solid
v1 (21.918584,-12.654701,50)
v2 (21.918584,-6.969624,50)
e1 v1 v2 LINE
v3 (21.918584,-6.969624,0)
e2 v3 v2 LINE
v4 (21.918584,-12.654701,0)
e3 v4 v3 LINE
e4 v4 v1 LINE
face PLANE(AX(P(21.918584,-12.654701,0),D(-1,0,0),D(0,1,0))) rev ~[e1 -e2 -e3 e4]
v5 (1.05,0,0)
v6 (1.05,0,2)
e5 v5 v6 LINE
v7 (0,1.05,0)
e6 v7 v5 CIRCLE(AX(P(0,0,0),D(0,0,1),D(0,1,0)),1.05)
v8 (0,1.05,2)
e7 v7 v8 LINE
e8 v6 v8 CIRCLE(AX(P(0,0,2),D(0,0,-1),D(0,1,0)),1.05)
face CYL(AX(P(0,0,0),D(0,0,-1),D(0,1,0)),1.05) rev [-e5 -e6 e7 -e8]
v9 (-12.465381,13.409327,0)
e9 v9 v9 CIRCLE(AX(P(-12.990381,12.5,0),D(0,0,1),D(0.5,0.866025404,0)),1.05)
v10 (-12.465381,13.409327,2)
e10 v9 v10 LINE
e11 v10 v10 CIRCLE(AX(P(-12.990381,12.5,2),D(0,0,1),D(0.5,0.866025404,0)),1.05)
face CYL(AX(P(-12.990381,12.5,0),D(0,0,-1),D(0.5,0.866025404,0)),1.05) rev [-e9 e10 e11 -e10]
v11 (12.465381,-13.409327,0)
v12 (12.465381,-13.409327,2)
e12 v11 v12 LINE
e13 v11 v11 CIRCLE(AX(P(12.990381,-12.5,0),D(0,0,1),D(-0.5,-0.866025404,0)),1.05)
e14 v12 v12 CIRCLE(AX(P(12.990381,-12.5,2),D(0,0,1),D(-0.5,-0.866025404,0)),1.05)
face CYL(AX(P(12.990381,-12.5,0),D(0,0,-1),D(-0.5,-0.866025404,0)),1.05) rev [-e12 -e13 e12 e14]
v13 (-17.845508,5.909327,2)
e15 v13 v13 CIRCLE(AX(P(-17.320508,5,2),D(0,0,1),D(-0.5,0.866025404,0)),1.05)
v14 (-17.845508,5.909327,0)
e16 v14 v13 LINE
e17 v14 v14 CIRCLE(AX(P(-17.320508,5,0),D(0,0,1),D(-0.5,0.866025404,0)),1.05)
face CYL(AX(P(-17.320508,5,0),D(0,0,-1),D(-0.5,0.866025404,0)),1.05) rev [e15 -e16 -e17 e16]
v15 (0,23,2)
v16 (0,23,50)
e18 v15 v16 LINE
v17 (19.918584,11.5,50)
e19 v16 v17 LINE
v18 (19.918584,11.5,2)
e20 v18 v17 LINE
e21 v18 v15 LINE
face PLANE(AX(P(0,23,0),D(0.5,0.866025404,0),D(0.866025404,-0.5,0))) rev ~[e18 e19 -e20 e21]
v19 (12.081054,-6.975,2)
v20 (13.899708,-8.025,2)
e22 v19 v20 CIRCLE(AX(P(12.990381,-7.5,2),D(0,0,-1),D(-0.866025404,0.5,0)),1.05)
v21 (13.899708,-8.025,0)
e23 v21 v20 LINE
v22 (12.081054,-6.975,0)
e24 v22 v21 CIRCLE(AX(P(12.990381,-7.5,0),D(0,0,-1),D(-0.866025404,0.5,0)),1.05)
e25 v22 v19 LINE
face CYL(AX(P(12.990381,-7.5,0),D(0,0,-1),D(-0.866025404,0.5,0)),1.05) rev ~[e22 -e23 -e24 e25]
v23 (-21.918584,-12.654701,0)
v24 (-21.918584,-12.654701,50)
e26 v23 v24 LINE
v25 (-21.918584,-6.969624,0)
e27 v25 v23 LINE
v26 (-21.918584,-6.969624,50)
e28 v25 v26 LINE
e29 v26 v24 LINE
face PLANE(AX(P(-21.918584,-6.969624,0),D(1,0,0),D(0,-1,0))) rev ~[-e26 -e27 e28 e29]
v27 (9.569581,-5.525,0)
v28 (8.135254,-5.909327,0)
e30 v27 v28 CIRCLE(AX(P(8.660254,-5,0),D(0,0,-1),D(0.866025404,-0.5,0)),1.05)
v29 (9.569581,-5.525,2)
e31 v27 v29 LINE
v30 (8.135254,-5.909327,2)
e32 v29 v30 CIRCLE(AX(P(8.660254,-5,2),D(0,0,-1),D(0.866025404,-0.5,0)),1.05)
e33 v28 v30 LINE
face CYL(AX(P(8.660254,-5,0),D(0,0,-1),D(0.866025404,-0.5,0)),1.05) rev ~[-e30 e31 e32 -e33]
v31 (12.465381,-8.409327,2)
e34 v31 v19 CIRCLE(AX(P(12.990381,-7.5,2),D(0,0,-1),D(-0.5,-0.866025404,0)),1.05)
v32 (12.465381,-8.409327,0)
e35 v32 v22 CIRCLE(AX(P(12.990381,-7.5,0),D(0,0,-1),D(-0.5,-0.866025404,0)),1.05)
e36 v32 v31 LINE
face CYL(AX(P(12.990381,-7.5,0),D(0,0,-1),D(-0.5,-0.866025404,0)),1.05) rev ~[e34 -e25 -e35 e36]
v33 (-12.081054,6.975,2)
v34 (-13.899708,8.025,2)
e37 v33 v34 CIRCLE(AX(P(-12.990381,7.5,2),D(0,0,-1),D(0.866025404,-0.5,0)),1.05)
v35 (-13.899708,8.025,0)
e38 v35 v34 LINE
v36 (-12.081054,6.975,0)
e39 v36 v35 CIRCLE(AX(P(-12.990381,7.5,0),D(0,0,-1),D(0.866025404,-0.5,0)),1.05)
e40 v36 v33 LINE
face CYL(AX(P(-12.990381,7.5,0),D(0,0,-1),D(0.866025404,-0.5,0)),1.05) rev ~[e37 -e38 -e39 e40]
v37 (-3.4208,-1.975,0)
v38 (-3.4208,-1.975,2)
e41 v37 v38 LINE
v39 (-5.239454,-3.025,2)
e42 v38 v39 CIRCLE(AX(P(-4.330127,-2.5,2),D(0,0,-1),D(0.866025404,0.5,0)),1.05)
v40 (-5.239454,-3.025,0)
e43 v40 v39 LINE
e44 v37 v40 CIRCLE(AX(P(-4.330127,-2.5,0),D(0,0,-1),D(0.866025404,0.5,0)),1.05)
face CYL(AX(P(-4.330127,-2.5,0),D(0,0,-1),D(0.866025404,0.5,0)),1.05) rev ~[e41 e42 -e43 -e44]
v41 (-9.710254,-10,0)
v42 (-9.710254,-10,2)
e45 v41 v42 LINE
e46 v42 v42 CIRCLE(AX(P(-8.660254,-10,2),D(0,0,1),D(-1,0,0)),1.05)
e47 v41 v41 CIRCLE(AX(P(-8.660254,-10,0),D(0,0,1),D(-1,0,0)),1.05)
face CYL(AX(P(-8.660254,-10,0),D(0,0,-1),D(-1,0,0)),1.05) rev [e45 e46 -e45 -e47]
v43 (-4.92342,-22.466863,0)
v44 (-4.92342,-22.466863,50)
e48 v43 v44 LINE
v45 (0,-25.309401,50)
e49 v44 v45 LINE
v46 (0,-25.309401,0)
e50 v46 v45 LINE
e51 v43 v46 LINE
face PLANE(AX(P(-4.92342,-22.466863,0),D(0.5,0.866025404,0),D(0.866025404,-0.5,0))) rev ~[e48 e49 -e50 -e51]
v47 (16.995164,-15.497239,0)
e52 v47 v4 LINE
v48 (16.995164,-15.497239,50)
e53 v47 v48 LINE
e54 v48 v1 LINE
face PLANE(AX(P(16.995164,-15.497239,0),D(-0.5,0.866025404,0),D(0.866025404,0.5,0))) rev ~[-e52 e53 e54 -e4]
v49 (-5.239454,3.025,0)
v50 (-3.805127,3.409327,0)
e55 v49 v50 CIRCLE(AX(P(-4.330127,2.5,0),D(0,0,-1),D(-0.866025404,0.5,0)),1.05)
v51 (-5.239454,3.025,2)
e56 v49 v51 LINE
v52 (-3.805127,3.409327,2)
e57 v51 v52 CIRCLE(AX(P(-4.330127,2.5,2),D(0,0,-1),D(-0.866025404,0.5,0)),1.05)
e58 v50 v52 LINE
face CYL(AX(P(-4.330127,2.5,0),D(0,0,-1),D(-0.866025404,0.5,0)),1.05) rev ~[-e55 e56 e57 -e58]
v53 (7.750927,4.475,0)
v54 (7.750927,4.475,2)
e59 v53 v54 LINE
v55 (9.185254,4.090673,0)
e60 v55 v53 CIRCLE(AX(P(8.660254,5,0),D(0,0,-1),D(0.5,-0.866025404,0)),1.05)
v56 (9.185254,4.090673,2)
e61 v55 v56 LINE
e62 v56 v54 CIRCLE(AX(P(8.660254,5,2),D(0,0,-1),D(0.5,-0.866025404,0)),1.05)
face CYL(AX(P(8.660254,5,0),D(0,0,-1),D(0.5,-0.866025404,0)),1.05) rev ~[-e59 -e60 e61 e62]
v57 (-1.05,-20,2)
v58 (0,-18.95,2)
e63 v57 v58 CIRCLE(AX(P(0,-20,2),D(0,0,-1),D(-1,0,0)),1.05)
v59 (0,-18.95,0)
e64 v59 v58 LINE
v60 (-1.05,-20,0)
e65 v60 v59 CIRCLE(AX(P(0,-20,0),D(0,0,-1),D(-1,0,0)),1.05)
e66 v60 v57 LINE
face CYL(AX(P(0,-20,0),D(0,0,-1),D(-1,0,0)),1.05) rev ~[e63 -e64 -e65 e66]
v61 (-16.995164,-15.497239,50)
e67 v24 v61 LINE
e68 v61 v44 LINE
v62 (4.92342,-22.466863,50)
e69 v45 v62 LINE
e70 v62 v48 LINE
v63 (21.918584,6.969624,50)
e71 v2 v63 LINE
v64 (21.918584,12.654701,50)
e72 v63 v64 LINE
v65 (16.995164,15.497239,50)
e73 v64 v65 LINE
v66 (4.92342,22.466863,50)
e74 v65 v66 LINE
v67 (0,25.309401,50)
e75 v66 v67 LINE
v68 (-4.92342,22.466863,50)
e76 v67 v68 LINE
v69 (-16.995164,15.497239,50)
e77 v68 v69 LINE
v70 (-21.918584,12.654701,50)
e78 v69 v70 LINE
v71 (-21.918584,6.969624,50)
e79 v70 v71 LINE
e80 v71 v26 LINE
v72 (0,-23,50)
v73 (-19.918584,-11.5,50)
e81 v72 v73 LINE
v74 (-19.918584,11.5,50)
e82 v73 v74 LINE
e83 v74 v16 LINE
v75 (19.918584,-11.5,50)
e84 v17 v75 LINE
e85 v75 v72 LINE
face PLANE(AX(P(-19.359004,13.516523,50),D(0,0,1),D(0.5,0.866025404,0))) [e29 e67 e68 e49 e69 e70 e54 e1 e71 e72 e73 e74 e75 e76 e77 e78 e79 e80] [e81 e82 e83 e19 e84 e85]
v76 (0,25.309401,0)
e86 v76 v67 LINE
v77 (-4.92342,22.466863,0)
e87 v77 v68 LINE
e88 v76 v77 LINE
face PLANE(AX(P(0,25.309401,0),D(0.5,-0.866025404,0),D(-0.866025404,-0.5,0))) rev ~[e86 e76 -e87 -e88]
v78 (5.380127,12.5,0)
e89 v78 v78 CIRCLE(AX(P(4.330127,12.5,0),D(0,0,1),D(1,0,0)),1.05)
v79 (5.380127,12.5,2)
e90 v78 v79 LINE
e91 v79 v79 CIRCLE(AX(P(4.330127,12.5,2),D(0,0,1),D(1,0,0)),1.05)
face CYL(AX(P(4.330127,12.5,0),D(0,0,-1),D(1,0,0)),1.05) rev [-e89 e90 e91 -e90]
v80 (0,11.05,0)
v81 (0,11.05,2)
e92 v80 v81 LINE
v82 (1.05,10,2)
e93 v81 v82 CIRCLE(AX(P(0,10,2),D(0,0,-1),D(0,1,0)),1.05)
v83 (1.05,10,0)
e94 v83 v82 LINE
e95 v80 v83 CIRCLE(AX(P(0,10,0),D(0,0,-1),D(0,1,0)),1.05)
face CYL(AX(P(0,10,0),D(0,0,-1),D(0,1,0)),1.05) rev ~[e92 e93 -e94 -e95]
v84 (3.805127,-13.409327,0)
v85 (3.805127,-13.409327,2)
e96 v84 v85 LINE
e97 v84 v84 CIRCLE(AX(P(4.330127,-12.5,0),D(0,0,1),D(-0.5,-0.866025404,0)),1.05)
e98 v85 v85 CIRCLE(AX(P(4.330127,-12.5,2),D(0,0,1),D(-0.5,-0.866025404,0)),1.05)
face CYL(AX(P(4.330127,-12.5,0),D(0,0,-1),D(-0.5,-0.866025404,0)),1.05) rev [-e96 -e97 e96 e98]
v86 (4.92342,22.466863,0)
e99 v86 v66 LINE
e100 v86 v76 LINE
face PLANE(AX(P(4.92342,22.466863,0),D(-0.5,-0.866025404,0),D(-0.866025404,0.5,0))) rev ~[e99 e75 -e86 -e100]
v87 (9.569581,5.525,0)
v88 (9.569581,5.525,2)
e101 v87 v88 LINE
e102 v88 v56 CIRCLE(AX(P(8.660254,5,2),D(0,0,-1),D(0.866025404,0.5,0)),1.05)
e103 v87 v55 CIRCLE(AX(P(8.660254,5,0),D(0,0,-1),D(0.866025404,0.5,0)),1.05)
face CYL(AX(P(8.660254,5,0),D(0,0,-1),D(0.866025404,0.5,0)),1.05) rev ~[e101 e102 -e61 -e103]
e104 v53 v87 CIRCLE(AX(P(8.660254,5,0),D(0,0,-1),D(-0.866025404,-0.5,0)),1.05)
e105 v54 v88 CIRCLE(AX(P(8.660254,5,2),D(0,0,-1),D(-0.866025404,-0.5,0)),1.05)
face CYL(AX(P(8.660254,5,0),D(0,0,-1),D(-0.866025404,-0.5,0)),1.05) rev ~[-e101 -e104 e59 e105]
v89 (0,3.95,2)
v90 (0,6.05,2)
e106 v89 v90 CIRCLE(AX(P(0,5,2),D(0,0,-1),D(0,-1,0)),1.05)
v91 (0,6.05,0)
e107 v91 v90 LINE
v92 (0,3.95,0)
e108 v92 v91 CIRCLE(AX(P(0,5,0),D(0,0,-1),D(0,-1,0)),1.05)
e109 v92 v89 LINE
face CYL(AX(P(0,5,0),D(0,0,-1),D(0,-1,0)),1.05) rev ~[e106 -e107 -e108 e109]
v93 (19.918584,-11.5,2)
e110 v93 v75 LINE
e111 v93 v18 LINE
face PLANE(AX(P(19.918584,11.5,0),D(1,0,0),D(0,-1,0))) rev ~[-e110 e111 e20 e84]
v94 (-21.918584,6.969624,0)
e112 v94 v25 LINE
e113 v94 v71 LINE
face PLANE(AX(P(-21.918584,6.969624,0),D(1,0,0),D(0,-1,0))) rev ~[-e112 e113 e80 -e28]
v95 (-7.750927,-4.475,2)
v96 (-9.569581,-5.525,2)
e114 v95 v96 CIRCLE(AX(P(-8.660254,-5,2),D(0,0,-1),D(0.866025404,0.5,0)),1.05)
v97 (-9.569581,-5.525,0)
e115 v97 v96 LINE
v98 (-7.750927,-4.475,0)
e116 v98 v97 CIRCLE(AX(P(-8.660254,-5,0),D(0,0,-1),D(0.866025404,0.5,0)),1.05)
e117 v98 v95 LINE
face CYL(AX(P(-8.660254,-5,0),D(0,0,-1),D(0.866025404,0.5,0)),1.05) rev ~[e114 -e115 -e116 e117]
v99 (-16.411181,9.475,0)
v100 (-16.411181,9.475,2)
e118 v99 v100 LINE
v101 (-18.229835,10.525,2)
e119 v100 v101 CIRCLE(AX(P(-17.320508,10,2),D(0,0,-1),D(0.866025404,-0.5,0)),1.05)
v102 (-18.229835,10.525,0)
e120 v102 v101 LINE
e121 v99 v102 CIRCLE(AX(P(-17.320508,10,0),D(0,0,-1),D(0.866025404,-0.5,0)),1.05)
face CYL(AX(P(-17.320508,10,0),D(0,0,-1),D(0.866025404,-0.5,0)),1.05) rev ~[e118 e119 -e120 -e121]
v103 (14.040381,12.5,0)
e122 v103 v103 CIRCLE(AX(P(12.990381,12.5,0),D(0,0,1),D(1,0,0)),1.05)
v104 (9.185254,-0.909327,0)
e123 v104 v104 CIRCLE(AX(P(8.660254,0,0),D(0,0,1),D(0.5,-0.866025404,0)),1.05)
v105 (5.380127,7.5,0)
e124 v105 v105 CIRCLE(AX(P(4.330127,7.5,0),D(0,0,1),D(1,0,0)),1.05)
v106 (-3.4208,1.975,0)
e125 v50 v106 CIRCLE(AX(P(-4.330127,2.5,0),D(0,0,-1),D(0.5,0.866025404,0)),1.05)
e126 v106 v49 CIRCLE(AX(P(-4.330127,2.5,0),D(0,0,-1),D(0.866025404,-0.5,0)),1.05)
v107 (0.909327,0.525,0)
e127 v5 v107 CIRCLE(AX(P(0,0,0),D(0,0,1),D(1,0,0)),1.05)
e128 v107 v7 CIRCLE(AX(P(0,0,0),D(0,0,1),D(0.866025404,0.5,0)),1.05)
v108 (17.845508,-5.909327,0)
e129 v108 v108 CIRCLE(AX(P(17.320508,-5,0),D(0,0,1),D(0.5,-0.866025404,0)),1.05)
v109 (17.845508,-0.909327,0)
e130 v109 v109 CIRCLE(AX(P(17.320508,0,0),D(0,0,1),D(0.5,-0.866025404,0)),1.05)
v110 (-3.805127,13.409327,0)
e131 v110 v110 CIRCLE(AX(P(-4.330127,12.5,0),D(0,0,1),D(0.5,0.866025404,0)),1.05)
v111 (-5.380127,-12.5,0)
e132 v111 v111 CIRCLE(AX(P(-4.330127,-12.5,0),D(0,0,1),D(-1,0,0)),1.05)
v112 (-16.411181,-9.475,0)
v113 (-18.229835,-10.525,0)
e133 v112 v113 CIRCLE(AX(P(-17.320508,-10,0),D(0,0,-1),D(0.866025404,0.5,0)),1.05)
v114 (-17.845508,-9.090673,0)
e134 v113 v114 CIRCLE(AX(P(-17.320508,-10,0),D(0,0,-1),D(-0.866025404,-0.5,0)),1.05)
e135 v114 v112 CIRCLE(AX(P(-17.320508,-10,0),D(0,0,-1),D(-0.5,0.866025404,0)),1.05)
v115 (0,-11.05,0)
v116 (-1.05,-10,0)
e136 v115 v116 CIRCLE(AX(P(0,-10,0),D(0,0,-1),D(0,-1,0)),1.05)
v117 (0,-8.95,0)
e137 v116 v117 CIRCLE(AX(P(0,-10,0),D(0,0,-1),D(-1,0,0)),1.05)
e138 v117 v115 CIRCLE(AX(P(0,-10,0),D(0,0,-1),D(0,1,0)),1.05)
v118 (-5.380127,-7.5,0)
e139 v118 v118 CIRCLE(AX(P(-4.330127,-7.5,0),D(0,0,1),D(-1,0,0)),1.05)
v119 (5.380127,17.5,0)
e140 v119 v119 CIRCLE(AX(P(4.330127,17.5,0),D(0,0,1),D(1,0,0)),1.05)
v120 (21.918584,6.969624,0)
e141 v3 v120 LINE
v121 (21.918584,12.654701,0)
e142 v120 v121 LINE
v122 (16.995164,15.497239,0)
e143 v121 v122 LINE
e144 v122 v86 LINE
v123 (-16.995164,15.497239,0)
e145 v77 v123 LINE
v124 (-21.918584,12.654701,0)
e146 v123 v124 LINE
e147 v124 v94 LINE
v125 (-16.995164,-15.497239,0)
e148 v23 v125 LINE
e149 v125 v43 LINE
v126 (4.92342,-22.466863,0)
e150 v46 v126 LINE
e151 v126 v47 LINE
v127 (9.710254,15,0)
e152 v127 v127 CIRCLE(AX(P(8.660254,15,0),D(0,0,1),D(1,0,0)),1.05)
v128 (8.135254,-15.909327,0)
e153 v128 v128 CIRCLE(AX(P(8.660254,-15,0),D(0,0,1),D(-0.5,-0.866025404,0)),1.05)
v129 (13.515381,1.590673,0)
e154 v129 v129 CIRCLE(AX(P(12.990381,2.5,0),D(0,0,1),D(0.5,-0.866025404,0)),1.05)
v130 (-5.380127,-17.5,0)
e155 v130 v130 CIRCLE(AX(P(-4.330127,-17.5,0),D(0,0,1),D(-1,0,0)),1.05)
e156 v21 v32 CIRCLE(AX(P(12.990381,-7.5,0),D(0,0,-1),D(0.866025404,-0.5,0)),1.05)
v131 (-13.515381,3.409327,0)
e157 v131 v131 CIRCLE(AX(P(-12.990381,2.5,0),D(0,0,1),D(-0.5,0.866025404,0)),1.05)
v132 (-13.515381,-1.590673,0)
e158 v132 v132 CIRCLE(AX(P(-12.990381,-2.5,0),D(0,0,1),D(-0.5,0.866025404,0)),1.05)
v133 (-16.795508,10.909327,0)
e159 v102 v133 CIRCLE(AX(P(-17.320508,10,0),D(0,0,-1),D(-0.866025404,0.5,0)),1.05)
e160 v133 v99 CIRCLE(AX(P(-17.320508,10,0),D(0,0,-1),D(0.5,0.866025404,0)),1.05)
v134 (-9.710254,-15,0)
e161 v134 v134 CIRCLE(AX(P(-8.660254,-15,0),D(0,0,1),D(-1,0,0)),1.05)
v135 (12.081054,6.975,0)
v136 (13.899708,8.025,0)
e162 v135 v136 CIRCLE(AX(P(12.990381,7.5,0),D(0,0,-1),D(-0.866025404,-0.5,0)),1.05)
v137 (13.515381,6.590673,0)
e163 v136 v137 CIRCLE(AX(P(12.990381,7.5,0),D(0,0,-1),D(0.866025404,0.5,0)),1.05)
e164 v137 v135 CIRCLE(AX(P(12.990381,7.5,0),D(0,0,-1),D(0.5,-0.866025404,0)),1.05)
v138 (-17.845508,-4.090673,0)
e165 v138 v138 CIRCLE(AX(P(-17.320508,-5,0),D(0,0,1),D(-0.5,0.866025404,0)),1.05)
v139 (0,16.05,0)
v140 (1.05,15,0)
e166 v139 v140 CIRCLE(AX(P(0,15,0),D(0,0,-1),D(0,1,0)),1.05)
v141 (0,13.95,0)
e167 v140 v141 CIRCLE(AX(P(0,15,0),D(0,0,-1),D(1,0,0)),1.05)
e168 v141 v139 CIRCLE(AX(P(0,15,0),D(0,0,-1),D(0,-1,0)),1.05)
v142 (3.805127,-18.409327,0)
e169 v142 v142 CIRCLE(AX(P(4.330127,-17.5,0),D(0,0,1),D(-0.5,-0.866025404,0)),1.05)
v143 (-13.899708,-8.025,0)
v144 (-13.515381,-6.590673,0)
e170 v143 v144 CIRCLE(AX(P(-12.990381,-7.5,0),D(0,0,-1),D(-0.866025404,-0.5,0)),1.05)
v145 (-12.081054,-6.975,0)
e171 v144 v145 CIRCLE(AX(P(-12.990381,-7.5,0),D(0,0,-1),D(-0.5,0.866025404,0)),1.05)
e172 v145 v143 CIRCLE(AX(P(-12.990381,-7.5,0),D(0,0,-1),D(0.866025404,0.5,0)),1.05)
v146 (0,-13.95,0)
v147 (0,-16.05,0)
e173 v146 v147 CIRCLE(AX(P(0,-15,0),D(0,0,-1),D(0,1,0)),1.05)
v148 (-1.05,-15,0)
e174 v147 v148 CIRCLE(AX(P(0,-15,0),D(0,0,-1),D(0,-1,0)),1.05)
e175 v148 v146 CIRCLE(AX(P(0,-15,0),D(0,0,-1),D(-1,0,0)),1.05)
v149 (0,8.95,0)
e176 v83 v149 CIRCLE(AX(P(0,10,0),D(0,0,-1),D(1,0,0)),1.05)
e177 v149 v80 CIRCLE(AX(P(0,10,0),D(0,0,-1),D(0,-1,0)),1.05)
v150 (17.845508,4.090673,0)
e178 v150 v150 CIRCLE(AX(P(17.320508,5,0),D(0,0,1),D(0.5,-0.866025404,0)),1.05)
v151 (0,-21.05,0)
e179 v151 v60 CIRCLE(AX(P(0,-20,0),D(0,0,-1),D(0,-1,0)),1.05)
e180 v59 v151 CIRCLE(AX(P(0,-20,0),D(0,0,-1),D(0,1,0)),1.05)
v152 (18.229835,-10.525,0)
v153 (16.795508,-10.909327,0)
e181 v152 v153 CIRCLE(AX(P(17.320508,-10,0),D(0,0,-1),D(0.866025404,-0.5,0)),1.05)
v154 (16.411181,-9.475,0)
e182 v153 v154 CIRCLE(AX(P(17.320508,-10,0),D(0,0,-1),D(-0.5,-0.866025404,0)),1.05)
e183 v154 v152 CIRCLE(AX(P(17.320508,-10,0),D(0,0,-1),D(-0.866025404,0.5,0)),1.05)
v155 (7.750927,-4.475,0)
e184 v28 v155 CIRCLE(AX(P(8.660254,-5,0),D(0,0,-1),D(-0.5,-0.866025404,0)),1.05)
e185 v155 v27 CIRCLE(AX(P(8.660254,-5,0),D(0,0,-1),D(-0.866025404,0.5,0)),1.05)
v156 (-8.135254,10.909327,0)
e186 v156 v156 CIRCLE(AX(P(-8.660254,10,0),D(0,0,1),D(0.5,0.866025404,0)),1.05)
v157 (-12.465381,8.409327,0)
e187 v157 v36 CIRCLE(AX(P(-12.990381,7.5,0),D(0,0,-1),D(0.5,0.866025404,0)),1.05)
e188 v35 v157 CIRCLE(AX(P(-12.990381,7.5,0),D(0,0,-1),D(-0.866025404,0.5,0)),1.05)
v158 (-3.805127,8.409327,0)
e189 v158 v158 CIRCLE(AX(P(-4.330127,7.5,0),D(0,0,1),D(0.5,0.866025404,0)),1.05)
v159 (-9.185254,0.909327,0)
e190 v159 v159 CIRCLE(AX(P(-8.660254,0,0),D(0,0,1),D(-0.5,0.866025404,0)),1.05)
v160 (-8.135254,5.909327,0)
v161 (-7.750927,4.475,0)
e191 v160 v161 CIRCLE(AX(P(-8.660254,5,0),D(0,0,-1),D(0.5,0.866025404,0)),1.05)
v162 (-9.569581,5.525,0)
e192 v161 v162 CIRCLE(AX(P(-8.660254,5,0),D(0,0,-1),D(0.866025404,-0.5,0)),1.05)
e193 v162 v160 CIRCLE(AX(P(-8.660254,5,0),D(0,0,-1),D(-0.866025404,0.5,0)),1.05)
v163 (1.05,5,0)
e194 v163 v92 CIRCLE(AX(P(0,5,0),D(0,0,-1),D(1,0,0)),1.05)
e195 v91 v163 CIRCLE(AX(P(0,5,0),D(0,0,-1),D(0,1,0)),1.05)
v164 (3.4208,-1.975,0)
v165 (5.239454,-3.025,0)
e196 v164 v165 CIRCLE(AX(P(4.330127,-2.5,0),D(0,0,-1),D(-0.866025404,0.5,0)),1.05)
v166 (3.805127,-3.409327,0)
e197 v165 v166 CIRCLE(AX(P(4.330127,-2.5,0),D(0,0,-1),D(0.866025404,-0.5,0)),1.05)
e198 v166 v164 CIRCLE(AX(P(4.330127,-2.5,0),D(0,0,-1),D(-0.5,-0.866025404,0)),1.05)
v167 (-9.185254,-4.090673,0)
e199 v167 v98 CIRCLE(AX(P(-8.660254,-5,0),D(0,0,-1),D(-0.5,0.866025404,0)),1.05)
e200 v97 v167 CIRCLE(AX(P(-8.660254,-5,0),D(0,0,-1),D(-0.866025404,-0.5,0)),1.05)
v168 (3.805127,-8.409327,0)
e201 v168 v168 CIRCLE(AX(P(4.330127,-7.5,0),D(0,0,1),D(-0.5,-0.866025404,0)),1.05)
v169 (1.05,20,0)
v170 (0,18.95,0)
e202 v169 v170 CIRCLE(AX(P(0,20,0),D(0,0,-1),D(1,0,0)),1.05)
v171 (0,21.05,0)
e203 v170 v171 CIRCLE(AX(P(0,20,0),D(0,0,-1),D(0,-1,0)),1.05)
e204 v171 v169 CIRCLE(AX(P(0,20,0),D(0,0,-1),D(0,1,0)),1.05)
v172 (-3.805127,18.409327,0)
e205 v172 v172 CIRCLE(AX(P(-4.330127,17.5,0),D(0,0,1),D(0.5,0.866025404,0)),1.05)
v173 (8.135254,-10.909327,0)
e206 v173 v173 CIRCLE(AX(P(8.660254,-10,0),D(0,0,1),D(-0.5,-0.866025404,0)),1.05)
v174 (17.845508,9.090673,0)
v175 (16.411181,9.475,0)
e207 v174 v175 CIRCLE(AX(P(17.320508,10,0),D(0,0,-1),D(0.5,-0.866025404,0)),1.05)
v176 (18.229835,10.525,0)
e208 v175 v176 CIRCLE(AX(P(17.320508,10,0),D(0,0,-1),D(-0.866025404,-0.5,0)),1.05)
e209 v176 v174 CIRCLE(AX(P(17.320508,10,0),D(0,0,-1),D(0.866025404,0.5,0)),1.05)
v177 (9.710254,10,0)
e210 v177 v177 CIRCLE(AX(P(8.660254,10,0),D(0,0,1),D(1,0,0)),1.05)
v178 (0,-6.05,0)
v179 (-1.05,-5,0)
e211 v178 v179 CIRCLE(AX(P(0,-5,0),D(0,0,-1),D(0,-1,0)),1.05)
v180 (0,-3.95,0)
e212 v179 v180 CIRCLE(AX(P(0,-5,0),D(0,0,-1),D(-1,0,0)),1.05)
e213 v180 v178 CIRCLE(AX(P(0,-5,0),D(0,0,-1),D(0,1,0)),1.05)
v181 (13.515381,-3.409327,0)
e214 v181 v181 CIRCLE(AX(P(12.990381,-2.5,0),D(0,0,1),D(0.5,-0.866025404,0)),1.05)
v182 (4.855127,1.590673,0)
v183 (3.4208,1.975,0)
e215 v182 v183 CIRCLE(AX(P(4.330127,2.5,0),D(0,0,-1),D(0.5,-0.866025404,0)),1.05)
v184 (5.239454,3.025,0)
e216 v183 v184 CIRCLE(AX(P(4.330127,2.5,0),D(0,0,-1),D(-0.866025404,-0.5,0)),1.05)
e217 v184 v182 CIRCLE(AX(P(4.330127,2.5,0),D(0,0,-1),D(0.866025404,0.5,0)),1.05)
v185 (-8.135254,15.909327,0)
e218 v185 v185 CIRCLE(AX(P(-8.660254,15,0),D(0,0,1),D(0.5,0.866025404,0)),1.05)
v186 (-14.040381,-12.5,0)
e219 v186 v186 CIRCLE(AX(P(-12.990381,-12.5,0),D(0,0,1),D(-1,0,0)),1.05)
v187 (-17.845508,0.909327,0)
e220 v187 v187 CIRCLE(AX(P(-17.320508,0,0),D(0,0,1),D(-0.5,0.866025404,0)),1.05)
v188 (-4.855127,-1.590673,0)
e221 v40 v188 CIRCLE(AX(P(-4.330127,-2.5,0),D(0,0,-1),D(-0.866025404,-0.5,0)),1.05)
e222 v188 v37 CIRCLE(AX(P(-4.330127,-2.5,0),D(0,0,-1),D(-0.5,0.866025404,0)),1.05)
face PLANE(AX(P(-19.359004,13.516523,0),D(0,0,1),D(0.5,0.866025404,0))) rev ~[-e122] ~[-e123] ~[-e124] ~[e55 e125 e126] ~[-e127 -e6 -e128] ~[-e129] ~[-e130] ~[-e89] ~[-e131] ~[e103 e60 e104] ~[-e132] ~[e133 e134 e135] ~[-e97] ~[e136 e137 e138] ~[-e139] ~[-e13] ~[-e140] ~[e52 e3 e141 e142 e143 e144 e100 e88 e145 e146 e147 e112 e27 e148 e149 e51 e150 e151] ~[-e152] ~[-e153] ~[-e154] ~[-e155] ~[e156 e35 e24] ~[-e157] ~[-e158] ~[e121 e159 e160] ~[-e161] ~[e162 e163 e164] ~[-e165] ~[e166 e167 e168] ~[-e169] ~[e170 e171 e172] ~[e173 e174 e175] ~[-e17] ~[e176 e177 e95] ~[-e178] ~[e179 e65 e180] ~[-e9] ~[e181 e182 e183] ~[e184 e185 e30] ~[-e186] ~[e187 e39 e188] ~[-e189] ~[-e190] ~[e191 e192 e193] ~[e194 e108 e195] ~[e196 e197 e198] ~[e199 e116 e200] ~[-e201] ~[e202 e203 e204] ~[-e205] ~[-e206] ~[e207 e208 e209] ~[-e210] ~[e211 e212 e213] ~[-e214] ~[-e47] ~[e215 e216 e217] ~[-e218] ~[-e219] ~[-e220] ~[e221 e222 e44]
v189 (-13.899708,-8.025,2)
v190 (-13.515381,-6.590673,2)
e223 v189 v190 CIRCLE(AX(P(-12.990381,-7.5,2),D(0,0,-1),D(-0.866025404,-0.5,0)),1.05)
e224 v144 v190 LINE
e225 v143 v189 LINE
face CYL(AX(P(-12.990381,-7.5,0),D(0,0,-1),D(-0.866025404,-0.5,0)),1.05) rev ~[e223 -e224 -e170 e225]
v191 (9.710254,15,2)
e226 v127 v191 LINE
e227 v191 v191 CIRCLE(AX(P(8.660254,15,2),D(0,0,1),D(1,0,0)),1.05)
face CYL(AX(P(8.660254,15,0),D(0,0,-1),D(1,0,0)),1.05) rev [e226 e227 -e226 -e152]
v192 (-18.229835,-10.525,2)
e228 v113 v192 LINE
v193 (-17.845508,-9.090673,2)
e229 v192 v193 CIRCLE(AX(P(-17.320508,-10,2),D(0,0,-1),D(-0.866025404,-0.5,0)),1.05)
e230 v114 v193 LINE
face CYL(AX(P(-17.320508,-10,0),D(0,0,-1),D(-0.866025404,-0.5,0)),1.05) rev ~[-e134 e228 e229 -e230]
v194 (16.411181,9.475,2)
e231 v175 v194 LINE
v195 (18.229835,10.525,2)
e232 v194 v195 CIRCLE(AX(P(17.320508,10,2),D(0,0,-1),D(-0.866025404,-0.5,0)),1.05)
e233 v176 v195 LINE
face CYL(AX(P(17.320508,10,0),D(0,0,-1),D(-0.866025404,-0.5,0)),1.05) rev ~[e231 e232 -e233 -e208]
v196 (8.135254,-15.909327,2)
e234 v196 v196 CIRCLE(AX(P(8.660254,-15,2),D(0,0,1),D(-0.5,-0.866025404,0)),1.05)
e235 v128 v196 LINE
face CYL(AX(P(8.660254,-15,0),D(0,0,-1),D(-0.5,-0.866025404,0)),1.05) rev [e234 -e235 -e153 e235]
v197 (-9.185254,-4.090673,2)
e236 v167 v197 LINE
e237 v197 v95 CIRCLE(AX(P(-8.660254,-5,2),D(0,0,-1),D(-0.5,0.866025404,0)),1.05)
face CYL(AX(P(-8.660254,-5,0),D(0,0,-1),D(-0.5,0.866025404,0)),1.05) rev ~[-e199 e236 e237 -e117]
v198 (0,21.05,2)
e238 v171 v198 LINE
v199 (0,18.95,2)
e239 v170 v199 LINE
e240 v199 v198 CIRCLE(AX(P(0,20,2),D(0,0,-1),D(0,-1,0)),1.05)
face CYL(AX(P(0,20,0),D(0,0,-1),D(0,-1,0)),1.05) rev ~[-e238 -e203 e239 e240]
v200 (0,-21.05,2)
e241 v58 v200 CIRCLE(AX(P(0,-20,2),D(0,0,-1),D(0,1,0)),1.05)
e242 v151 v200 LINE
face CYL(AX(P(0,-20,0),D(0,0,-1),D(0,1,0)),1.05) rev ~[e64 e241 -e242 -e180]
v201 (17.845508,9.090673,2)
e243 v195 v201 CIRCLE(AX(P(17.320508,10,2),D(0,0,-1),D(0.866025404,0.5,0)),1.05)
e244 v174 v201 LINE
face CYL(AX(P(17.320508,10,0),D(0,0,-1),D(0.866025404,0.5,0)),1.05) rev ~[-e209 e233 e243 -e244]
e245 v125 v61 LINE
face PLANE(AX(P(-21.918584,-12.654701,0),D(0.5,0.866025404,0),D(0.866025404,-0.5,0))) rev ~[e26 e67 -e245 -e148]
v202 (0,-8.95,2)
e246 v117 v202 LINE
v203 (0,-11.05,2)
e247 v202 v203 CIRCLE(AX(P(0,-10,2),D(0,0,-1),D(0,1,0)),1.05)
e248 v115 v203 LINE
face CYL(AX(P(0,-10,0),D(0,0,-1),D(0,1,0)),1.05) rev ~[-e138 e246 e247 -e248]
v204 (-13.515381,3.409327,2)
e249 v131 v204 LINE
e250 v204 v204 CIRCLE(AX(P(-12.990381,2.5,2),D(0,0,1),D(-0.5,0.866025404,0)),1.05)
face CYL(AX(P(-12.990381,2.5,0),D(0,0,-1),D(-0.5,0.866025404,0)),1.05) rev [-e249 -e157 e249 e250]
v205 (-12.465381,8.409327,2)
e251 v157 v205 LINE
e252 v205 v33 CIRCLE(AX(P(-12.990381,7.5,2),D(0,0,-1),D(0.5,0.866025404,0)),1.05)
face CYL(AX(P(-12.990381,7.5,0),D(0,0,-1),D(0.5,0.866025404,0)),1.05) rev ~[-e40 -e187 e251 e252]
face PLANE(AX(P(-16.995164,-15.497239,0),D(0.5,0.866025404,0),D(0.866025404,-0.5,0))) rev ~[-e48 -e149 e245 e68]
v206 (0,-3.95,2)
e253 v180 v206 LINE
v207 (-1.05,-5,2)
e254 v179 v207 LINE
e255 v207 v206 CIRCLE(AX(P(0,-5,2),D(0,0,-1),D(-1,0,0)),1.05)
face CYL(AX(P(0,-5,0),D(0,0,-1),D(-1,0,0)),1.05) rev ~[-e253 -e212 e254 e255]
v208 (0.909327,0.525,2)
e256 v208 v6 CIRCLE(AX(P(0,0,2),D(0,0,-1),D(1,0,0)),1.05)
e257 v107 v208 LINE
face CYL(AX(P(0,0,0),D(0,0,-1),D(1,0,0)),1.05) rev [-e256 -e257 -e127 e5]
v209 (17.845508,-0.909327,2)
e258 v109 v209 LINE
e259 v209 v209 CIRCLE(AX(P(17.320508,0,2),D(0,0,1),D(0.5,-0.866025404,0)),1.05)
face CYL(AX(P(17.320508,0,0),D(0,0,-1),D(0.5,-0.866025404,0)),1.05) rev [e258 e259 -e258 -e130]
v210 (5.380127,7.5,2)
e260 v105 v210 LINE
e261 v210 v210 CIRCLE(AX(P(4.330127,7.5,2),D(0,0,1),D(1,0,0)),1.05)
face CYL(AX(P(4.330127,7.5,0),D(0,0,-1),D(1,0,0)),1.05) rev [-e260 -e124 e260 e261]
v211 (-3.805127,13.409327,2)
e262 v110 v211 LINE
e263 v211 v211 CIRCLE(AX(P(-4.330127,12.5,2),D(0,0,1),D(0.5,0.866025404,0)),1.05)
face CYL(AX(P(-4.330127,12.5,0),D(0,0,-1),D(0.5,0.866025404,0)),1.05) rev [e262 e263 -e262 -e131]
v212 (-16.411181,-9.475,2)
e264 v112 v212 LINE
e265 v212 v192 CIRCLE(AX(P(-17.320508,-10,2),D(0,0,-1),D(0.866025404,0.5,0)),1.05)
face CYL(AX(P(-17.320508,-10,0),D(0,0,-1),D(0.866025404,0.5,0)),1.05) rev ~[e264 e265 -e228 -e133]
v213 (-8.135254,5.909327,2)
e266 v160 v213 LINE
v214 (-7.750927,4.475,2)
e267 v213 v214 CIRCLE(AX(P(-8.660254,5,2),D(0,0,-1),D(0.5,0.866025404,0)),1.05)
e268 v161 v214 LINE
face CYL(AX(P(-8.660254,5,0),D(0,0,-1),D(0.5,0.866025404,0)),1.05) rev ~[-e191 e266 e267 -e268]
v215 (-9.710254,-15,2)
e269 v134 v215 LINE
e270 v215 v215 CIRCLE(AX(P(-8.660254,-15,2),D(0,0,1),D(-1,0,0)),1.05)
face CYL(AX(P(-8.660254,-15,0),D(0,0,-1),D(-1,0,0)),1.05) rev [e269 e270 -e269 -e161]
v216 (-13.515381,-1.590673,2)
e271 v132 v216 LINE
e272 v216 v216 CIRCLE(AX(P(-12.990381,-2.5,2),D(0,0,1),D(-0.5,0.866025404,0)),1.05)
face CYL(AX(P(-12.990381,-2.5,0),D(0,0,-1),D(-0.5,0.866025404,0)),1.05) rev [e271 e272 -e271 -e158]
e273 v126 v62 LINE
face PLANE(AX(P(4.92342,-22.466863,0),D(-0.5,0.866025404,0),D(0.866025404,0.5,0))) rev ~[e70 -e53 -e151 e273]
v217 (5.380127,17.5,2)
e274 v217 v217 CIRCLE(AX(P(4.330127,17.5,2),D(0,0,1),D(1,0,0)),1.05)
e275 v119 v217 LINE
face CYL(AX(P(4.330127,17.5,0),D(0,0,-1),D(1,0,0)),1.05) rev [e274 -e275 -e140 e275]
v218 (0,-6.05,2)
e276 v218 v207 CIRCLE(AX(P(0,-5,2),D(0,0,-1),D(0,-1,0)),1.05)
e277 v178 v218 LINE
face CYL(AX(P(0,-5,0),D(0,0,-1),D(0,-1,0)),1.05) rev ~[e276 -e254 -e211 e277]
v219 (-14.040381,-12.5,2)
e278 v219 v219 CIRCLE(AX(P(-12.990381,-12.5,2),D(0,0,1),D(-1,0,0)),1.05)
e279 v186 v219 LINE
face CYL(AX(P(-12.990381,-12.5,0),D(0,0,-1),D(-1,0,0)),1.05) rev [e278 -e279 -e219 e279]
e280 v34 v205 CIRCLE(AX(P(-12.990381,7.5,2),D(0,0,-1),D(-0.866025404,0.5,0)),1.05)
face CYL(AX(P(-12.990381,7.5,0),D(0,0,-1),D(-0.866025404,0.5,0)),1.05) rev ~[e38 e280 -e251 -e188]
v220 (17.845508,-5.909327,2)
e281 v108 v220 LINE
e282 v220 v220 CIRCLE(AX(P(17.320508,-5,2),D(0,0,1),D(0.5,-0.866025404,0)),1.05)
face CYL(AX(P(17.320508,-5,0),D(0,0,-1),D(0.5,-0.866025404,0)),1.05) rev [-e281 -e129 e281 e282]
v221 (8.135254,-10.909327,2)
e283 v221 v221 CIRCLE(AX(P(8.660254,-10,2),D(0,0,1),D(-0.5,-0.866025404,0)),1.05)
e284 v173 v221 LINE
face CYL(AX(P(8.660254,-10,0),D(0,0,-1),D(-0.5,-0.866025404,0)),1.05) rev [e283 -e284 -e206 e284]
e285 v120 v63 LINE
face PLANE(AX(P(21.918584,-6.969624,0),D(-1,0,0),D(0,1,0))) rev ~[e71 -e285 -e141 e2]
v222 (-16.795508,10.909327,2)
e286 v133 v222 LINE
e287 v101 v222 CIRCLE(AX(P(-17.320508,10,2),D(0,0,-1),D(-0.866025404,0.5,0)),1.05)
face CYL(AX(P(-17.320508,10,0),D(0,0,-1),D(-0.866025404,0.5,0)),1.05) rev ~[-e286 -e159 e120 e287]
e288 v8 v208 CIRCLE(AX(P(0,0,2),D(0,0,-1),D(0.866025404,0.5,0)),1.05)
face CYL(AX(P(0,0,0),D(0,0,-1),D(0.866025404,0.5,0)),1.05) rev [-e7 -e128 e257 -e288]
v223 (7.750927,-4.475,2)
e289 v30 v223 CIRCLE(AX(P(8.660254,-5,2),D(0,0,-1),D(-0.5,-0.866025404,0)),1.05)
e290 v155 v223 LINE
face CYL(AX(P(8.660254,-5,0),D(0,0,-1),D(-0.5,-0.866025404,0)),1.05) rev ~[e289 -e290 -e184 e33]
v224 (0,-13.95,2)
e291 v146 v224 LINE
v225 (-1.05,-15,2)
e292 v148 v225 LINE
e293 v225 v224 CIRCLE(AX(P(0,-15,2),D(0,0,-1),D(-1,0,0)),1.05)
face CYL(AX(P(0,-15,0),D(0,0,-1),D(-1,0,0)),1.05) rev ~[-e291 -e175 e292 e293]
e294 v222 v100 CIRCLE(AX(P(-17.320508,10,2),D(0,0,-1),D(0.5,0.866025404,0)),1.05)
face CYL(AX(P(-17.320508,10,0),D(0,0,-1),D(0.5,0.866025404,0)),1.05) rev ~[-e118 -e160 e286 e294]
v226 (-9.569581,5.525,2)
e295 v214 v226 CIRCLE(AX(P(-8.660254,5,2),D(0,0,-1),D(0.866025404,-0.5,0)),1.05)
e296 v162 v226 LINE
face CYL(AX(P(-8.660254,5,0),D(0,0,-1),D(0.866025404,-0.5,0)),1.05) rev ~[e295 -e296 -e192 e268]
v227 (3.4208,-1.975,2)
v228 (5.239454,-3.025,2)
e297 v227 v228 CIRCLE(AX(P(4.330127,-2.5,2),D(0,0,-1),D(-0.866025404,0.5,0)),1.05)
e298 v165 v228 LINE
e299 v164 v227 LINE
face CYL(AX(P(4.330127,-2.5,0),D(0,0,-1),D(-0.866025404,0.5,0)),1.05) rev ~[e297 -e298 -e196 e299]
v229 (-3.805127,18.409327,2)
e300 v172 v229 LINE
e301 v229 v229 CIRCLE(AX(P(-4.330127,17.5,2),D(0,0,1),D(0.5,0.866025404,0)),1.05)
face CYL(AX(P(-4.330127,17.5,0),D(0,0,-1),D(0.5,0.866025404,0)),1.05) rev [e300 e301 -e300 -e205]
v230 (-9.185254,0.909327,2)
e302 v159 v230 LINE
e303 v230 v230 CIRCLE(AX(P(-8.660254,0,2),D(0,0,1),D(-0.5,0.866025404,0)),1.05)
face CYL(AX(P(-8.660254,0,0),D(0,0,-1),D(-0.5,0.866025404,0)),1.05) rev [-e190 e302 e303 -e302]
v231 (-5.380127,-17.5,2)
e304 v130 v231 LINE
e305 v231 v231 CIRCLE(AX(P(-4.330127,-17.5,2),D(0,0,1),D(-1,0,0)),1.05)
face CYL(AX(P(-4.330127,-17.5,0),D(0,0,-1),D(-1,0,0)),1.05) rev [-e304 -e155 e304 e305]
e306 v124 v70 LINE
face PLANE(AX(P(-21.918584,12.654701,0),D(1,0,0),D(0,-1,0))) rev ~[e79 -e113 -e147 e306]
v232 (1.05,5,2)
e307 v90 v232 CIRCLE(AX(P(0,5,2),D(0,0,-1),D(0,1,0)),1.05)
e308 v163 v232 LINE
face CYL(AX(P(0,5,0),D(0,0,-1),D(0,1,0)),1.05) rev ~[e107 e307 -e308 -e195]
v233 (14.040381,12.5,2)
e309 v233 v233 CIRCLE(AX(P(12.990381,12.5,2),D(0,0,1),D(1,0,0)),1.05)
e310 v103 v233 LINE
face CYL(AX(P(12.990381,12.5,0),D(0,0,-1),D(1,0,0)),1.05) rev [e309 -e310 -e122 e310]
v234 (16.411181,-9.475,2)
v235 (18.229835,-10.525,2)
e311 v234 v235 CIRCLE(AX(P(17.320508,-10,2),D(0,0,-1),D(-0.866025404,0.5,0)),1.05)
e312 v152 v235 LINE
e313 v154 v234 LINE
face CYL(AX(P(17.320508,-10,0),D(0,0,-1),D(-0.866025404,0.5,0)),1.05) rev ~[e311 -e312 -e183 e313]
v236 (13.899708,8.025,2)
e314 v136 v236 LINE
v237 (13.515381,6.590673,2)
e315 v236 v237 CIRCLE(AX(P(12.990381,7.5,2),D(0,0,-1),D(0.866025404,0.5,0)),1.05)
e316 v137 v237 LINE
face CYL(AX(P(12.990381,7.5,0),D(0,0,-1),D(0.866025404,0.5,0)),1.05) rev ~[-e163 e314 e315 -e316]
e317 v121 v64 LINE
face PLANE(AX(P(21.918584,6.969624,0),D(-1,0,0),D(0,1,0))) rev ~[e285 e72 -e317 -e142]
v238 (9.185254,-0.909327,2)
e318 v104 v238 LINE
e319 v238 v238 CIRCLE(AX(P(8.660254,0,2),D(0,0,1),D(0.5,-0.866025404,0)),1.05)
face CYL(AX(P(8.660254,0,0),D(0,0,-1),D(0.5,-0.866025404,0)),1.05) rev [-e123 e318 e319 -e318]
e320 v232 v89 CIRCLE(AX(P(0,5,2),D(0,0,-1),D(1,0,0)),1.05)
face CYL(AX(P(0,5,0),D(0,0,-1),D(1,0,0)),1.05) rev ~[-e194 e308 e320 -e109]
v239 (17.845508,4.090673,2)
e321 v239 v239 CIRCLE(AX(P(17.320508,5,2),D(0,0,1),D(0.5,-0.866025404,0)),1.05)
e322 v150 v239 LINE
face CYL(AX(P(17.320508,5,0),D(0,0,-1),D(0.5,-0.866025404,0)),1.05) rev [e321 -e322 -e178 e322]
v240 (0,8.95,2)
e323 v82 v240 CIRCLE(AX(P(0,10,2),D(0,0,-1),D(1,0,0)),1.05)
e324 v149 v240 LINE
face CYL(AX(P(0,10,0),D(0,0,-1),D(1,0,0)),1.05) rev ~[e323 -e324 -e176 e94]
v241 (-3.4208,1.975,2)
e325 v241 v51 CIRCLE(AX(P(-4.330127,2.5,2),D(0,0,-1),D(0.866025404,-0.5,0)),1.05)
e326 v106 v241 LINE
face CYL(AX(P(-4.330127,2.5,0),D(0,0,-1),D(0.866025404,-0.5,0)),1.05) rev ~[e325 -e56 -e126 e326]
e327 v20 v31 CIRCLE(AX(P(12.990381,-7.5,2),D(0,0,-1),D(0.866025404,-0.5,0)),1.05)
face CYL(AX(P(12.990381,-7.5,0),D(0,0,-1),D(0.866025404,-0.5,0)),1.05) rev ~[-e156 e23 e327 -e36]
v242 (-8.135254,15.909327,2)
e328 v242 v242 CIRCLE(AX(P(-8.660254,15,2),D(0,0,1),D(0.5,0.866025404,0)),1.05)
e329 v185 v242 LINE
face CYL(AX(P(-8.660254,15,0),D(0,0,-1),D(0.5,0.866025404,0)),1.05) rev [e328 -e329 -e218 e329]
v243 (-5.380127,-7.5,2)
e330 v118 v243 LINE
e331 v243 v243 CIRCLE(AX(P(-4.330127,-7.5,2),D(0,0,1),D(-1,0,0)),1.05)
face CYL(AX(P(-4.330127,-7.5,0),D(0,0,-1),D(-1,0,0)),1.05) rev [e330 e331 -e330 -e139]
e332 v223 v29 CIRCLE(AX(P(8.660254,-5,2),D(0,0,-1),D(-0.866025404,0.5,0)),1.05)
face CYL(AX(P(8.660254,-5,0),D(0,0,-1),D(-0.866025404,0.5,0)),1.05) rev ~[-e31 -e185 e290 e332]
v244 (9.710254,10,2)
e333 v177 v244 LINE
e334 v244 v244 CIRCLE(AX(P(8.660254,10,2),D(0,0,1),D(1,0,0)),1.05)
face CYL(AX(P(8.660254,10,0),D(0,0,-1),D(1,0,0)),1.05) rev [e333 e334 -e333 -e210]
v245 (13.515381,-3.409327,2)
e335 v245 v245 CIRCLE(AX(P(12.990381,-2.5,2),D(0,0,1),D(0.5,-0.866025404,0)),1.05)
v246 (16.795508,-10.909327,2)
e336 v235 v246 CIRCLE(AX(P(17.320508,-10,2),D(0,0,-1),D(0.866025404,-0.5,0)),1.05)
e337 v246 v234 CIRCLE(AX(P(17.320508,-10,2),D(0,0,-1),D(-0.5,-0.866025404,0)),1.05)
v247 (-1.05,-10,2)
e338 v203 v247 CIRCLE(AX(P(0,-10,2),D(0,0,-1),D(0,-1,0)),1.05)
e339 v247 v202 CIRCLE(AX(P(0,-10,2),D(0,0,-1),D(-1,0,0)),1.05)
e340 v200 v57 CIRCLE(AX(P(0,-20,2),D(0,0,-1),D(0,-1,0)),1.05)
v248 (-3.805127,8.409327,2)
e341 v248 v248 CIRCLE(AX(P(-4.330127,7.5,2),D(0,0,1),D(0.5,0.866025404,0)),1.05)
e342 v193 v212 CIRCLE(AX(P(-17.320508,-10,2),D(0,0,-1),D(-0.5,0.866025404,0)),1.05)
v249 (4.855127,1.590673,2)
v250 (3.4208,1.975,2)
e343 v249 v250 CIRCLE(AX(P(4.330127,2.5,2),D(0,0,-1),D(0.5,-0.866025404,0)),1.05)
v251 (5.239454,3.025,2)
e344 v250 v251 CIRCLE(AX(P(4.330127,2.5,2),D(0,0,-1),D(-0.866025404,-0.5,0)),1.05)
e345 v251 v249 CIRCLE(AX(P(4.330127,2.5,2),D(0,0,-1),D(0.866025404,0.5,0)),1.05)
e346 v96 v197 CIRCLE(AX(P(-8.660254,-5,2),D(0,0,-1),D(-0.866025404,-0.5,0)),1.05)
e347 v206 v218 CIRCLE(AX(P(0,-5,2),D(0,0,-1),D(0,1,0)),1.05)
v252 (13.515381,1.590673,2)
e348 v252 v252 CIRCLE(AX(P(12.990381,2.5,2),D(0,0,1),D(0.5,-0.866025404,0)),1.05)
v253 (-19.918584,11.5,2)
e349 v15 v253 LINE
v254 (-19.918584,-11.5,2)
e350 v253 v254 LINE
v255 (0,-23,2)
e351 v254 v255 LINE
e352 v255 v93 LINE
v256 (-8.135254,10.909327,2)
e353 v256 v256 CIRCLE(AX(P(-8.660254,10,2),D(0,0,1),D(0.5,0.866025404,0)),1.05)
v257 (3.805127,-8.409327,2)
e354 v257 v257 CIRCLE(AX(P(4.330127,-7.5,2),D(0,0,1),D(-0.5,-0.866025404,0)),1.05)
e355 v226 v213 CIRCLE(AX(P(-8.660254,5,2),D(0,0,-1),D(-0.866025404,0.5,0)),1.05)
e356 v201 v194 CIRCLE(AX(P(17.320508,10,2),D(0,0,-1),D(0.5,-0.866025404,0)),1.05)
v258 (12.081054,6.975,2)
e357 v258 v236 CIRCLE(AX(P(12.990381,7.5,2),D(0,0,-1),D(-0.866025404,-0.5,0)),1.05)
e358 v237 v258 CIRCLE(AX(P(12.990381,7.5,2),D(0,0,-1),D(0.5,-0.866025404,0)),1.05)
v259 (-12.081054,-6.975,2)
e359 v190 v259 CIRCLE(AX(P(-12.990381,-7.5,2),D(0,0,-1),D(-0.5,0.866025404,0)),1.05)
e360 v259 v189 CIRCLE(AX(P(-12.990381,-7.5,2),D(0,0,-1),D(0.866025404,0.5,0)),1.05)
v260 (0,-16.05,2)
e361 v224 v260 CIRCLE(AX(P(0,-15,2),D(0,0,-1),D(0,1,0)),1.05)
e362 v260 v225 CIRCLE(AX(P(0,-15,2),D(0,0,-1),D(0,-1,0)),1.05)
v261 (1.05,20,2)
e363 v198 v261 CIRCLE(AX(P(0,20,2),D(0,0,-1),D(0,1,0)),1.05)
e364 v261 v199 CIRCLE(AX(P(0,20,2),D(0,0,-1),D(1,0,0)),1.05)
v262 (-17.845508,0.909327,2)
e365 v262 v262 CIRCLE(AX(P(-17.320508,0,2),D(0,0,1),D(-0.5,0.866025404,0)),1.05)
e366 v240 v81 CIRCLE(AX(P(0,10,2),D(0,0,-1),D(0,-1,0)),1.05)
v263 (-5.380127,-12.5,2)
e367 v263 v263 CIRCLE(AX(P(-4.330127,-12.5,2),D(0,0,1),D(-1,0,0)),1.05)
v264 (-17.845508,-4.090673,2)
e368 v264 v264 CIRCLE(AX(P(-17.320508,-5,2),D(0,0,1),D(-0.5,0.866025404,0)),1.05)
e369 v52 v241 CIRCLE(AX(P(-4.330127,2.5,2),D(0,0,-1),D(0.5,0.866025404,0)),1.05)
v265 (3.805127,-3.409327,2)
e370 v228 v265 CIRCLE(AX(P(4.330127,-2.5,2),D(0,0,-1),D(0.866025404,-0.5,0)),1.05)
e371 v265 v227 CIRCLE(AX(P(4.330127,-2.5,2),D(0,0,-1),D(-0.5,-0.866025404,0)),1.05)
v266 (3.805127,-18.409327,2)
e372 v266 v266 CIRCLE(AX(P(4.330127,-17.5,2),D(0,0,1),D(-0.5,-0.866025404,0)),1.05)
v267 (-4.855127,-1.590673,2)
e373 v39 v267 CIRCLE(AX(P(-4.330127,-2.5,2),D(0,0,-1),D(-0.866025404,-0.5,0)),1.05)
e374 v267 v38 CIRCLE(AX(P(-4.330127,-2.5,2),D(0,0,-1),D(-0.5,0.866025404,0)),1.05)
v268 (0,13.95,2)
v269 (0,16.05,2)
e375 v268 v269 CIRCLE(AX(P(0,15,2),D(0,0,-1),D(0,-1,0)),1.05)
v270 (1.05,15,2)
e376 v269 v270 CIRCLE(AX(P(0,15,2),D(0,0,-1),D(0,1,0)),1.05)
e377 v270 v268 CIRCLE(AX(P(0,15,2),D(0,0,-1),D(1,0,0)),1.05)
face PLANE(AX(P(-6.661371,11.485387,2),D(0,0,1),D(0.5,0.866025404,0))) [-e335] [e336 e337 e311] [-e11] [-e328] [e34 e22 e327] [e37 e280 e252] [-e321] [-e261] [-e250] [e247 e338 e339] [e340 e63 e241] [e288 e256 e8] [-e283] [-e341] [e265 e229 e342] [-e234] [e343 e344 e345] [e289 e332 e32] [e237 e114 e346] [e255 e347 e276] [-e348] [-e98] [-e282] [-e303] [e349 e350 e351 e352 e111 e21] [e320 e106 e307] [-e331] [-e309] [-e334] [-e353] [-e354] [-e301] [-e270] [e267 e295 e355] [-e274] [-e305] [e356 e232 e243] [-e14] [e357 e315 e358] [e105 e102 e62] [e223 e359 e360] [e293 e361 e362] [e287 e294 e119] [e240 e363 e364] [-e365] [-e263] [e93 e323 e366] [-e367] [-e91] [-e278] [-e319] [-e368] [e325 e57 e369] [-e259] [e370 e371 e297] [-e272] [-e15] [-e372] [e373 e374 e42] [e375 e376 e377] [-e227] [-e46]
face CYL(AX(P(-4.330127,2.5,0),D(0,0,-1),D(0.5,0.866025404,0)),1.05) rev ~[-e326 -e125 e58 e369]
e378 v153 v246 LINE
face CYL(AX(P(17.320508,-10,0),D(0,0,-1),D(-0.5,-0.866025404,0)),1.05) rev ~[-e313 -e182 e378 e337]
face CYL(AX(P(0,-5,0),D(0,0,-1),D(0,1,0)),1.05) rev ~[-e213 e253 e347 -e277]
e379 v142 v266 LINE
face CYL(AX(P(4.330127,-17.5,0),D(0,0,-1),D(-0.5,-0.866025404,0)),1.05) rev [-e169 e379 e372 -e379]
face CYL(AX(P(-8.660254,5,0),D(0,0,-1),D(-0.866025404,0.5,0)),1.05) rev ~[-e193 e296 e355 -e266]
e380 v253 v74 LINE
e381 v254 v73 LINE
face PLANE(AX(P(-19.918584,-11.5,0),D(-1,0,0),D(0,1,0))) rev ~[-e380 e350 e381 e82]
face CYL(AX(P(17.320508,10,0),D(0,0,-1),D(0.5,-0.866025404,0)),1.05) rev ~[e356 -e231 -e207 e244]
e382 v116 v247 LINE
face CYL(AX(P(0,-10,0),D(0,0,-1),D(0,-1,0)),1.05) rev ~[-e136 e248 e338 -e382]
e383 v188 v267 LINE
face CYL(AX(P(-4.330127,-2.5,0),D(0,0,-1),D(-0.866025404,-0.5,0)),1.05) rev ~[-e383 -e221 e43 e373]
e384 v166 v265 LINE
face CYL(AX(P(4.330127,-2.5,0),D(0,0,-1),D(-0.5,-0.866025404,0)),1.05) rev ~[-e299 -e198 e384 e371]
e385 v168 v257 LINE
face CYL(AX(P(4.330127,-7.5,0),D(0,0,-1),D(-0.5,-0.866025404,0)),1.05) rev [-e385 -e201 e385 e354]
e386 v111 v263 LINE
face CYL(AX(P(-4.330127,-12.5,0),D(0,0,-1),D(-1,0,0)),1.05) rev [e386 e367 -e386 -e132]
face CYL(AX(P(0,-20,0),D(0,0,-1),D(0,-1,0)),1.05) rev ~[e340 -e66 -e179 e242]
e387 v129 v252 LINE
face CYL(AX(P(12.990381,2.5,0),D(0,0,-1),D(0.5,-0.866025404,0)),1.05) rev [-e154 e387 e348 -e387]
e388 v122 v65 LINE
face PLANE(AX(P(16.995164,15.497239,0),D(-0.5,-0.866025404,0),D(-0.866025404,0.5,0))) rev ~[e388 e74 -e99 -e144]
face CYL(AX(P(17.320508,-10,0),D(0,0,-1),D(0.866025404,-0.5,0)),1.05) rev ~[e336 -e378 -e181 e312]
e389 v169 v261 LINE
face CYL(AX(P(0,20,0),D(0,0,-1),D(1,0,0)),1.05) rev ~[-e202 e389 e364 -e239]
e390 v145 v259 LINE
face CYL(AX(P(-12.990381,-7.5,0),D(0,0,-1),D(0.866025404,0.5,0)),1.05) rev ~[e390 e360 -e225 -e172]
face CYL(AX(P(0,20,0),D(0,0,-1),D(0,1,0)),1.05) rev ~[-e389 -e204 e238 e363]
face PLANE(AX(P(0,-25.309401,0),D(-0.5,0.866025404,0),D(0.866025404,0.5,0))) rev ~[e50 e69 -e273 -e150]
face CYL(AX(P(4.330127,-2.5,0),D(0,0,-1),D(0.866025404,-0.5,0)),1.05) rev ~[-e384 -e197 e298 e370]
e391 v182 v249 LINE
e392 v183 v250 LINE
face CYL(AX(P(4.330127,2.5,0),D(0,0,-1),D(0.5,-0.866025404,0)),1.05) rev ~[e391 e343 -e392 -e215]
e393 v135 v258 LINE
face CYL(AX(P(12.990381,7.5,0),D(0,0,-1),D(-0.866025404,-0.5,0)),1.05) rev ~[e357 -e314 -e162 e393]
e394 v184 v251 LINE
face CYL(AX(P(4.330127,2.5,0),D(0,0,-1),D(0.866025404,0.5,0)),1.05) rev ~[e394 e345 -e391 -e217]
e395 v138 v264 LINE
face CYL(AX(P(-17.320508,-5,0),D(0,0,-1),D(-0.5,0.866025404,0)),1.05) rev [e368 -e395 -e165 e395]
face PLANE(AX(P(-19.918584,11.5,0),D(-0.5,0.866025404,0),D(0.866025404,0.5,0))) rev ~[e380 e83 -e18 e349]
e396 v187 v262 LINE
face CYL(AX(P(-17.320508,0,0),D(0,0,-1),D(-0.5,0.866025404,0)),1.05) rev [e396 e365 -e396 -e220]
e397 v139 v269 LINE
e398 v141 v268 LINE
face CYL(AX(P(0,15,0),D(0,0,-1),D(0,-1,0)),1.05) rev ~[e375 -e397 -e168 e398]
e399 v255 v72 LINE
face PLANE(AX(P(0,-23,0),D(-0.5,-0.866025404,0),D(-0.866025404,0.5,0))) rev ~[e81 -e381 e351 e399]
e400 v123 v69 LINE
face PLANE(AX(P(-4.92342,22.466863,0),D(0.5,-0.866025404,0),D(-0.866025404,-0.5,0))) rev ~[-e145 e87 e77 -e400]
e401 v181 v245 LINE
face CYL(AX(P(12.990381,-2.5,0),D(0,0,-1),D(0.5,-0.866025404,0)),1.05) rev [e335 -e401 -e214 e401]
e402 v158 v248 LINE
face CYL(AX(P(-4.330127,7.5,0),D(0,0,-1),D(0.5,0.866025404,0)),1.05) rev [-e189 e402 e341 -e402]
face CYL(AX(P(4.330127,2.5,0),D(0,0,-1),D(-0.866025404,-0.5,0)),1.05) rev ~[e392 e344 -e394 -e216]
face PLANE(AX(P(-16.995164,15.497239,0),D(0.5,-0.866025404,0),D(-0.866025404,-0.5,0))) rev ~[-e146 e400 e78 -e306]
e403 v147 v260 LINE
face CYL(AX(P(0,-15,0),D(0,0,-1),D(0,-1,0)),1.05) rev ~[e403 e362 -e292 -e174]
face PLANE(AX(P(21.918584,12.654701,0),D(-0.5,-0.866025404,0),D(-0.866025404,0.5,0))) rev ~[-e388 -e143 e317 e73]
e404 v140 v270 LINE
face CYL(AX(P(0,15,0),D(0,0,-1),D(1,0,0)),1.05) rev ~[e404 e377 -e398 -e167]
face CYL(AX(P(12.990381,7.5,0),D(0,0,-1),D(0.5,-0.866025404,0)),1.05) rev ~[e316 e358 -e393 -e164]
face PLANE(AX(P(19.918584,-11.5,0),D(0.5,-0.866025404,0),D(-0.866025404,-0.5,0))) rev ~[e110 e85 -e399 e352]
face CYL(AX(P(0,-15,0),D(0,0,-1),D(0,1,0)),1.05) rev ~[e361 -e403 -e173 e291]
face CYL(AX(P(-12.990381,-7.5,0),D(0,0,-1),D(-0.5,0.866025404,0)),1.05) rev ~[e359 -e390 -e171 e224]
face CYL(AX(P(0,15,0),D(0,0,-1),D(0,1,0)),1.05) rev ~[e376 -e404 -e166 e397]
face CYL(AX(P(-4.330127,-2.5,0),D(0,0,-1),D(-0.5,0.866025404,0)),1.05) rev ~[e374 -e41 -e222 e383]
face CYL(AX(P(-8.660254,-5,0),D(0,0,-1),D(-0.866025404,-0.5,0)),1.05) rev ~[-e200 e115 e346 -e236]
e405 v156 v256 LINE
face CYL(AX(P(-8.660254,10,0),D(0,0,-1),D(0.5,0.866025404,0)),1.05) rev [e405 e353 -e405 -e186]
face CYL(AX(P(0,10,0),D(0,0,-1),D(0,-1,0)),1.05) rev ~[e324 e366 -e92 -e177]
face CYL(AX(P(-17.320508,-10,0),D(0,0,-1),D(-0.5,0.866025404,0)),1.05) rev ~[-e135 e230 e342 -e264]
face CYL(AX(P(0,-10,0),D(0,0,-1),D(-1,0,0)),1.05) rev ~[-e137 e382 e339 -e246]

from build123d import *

# Parameters (mm, degrees)
F0_R     = 1.05
F1_DEPTH = 2
F2_DEPTH = 50
F3_COUNT = 6
F4_DEPTH = 50.001


with BuildPart() as f1:
    # F0 (on Top) → F1 (new body)
    with BuildSketch(Plane.XY):
        with BuildLine():
            Line((18.2298347497, 10.525), (19.918584287, 11.5))
            Line((19.918584287, 11.5), (0, 23))
            Line((0, 23), (0, 21.05))
            ThreePointArc((0, 21.05), (0.7424621202, 20.7424621202), (1.05, 20))
            ThreePointArc((1.05, 20), (0.7424621202, 19.2575378798), (0, 18.95))
            Line((0, 18.95), (0, 16.05))
            ThreePointArc((0, 16.05), (0.7424621202, 15.7424621202), (1.05, 15))
            ThreePointArc((1.05, 15), (0.7424621202, 14.2575378798), (0, 13.95))
            Line((0, 13.95), (0, 11.05))
            ThreePointArc((0, 11.05), (0.7424621202, 10.7424621202), (1.05, 10))
            ThreePointArc((1.05, 10), (0.7424621202, 9.2575378798), (0, 8.95))
            Line((0, 8.95), (0, 6.05))
            ThreePointArc((0, 6.05), (0.7424621202, 5.7424621202), (1.05, 5))
            ThreePointArc((1.05, 5), (0.7424621202, 4.2575378798), (0, 3.95))
            Line((0, 3.95), (0, 1.05))
            ThreePointArc((0, 1.05), (0.525, 0.909326674), (0.909326674, 0.525))
            Line((0.909326674, 0.525), (3.4208003449, 1.975))
            ThreePointArc((3.4208003449, 1.975), (3.8051270189, 3.409326674), (5.2394536929, 3.025))
            Line((5.2394536929, 3.025), (7.7509273639, 4.475))
            ThreePointArc((7.7509273639, 4.475), (8.1352540378, 5.909326674), (9.5695807118, 5.525))
            Line((9.5695807118, 5.525), (12.0810543828, 6.975))
            ThreePointArc((12.0810543828, 6.975), (12.4653810568, 8.409326674), (13.8997077307, 8.025))
            Line((13.8997077307, 8.025), (16.4111814017, 9.475))
            ThreePointArc((16.4111814017, 9.475), (16.7955080757, 10.909326674), (18.2298347497, 10.525))
        make_face()
        with Locations((4.3301270189, 7.5)):
            Circle(F0_R, mode=Mode.SUBTRACT)
        with Locations((4.3301270189, 12.5)):
            Circle(F0_R, mode=Mode.SUBTRACT)
        with Locations((8.6602540378, 10)):
            Circle(F0_R, mode=Mode.SUBTRACT)
        with Locations((12.9903810568, 12.5)):
            Circle(F0_R, mode=Mode.SUBTRACT)
        with Locations((4.3301270189, 17.5)):
            Circle(F0_R, mode=Mode.SUBTRACT)
        with Locations((8.6602540378, 15)):
            Circle(F0_R, mode=Mode.SUBTRACT)
        with BuildLine():
            Line((0, 0), (0.909326674, 0.525))
            ThreePointArc((0.909326674, 0.525), (0.525, 0.909326674), (0, 1.05))
            Line((0, 1.05), (0, 0))
        make_face()
    extrude(amount=F1_DEPTH)

    # F0 (on Top) → F2 (join)
    with BuildSketch(Plane.XY):
        with BuildLine():
            Line((0, 25.3094010768), (0, 23))
            ThreePointArc((0, 23), (2.4761009674, 22.8663272958), (4.9234204468, 22.4668629564))
            Line((4.9234204468, 22.4668629564), (0, 25.3094010768))
        make_face()
        with BuildLine():
            ThreePointArc((16.9951638402, 15.4972386587), (18.5647698457, 13.577529988), (19.918584287, 11.5))
            Line((19.918584287, 11.5), (21.918584287, 12.6547005384))
            Line((21.918584287, 12.6547005384), (16.9951638402, 15.4972386587))
        make_face()
        with BuildLine():
            Line((0, 23), (19.918584287, 11.5))
            ThreePointArc((19.918584287, 11.5), (18.5647698457, 13.577529988), (16.9951638402, 15.4972386587))
            Line((16.9951638402, 15.4972386587), (4.9234204468, 22.4668629564))
            ThreePointArc((4.9234204468, 22.4668629564), (2.4761009674, 22.8663272958), (0, 23))
        make_face()
    extrude(amount=F2_DEPTH)

    # F3: F1 ×6 about axis
    f3_axis = Axis((0, 0, 1), (0, 0, -1))


with BuildPart() as f1_1:
    add(f1.part)
    for i in range(1, F3_COUNT):
        add(f1.part.rotate(f3_axis, i * 360 / F3_COUNT))

    # F0 (on Top) → F4 (cut, through all)
    with BuildSketch(Plane.XY):
        with BuildLine():
            ThreePointArc((1.05, 0), (1.0142221176, 0.2717599974), (0.909326674, 0.525))
            Line((0.909326674, 0.525), (0, 0))
            Line((0, 0), (0, 1.05))
            ThreePointArc((0, 1.05), (-0.7424621202, -0.7424621202), (1.05, 0))
        make_face()
        with BuildLine():
            Line((0, 0), (0.909326674, 0.525))
            ThreePointArc((0.909326674, 0.525), (0.525, 0.909326674), (0, 1.05))
            Line((0, 1.05), (0, 0))
        make_face()
    extrude(amount=F4_DEPTH, mode=Mode.SUBTRACT)


solid = f1_1.part
